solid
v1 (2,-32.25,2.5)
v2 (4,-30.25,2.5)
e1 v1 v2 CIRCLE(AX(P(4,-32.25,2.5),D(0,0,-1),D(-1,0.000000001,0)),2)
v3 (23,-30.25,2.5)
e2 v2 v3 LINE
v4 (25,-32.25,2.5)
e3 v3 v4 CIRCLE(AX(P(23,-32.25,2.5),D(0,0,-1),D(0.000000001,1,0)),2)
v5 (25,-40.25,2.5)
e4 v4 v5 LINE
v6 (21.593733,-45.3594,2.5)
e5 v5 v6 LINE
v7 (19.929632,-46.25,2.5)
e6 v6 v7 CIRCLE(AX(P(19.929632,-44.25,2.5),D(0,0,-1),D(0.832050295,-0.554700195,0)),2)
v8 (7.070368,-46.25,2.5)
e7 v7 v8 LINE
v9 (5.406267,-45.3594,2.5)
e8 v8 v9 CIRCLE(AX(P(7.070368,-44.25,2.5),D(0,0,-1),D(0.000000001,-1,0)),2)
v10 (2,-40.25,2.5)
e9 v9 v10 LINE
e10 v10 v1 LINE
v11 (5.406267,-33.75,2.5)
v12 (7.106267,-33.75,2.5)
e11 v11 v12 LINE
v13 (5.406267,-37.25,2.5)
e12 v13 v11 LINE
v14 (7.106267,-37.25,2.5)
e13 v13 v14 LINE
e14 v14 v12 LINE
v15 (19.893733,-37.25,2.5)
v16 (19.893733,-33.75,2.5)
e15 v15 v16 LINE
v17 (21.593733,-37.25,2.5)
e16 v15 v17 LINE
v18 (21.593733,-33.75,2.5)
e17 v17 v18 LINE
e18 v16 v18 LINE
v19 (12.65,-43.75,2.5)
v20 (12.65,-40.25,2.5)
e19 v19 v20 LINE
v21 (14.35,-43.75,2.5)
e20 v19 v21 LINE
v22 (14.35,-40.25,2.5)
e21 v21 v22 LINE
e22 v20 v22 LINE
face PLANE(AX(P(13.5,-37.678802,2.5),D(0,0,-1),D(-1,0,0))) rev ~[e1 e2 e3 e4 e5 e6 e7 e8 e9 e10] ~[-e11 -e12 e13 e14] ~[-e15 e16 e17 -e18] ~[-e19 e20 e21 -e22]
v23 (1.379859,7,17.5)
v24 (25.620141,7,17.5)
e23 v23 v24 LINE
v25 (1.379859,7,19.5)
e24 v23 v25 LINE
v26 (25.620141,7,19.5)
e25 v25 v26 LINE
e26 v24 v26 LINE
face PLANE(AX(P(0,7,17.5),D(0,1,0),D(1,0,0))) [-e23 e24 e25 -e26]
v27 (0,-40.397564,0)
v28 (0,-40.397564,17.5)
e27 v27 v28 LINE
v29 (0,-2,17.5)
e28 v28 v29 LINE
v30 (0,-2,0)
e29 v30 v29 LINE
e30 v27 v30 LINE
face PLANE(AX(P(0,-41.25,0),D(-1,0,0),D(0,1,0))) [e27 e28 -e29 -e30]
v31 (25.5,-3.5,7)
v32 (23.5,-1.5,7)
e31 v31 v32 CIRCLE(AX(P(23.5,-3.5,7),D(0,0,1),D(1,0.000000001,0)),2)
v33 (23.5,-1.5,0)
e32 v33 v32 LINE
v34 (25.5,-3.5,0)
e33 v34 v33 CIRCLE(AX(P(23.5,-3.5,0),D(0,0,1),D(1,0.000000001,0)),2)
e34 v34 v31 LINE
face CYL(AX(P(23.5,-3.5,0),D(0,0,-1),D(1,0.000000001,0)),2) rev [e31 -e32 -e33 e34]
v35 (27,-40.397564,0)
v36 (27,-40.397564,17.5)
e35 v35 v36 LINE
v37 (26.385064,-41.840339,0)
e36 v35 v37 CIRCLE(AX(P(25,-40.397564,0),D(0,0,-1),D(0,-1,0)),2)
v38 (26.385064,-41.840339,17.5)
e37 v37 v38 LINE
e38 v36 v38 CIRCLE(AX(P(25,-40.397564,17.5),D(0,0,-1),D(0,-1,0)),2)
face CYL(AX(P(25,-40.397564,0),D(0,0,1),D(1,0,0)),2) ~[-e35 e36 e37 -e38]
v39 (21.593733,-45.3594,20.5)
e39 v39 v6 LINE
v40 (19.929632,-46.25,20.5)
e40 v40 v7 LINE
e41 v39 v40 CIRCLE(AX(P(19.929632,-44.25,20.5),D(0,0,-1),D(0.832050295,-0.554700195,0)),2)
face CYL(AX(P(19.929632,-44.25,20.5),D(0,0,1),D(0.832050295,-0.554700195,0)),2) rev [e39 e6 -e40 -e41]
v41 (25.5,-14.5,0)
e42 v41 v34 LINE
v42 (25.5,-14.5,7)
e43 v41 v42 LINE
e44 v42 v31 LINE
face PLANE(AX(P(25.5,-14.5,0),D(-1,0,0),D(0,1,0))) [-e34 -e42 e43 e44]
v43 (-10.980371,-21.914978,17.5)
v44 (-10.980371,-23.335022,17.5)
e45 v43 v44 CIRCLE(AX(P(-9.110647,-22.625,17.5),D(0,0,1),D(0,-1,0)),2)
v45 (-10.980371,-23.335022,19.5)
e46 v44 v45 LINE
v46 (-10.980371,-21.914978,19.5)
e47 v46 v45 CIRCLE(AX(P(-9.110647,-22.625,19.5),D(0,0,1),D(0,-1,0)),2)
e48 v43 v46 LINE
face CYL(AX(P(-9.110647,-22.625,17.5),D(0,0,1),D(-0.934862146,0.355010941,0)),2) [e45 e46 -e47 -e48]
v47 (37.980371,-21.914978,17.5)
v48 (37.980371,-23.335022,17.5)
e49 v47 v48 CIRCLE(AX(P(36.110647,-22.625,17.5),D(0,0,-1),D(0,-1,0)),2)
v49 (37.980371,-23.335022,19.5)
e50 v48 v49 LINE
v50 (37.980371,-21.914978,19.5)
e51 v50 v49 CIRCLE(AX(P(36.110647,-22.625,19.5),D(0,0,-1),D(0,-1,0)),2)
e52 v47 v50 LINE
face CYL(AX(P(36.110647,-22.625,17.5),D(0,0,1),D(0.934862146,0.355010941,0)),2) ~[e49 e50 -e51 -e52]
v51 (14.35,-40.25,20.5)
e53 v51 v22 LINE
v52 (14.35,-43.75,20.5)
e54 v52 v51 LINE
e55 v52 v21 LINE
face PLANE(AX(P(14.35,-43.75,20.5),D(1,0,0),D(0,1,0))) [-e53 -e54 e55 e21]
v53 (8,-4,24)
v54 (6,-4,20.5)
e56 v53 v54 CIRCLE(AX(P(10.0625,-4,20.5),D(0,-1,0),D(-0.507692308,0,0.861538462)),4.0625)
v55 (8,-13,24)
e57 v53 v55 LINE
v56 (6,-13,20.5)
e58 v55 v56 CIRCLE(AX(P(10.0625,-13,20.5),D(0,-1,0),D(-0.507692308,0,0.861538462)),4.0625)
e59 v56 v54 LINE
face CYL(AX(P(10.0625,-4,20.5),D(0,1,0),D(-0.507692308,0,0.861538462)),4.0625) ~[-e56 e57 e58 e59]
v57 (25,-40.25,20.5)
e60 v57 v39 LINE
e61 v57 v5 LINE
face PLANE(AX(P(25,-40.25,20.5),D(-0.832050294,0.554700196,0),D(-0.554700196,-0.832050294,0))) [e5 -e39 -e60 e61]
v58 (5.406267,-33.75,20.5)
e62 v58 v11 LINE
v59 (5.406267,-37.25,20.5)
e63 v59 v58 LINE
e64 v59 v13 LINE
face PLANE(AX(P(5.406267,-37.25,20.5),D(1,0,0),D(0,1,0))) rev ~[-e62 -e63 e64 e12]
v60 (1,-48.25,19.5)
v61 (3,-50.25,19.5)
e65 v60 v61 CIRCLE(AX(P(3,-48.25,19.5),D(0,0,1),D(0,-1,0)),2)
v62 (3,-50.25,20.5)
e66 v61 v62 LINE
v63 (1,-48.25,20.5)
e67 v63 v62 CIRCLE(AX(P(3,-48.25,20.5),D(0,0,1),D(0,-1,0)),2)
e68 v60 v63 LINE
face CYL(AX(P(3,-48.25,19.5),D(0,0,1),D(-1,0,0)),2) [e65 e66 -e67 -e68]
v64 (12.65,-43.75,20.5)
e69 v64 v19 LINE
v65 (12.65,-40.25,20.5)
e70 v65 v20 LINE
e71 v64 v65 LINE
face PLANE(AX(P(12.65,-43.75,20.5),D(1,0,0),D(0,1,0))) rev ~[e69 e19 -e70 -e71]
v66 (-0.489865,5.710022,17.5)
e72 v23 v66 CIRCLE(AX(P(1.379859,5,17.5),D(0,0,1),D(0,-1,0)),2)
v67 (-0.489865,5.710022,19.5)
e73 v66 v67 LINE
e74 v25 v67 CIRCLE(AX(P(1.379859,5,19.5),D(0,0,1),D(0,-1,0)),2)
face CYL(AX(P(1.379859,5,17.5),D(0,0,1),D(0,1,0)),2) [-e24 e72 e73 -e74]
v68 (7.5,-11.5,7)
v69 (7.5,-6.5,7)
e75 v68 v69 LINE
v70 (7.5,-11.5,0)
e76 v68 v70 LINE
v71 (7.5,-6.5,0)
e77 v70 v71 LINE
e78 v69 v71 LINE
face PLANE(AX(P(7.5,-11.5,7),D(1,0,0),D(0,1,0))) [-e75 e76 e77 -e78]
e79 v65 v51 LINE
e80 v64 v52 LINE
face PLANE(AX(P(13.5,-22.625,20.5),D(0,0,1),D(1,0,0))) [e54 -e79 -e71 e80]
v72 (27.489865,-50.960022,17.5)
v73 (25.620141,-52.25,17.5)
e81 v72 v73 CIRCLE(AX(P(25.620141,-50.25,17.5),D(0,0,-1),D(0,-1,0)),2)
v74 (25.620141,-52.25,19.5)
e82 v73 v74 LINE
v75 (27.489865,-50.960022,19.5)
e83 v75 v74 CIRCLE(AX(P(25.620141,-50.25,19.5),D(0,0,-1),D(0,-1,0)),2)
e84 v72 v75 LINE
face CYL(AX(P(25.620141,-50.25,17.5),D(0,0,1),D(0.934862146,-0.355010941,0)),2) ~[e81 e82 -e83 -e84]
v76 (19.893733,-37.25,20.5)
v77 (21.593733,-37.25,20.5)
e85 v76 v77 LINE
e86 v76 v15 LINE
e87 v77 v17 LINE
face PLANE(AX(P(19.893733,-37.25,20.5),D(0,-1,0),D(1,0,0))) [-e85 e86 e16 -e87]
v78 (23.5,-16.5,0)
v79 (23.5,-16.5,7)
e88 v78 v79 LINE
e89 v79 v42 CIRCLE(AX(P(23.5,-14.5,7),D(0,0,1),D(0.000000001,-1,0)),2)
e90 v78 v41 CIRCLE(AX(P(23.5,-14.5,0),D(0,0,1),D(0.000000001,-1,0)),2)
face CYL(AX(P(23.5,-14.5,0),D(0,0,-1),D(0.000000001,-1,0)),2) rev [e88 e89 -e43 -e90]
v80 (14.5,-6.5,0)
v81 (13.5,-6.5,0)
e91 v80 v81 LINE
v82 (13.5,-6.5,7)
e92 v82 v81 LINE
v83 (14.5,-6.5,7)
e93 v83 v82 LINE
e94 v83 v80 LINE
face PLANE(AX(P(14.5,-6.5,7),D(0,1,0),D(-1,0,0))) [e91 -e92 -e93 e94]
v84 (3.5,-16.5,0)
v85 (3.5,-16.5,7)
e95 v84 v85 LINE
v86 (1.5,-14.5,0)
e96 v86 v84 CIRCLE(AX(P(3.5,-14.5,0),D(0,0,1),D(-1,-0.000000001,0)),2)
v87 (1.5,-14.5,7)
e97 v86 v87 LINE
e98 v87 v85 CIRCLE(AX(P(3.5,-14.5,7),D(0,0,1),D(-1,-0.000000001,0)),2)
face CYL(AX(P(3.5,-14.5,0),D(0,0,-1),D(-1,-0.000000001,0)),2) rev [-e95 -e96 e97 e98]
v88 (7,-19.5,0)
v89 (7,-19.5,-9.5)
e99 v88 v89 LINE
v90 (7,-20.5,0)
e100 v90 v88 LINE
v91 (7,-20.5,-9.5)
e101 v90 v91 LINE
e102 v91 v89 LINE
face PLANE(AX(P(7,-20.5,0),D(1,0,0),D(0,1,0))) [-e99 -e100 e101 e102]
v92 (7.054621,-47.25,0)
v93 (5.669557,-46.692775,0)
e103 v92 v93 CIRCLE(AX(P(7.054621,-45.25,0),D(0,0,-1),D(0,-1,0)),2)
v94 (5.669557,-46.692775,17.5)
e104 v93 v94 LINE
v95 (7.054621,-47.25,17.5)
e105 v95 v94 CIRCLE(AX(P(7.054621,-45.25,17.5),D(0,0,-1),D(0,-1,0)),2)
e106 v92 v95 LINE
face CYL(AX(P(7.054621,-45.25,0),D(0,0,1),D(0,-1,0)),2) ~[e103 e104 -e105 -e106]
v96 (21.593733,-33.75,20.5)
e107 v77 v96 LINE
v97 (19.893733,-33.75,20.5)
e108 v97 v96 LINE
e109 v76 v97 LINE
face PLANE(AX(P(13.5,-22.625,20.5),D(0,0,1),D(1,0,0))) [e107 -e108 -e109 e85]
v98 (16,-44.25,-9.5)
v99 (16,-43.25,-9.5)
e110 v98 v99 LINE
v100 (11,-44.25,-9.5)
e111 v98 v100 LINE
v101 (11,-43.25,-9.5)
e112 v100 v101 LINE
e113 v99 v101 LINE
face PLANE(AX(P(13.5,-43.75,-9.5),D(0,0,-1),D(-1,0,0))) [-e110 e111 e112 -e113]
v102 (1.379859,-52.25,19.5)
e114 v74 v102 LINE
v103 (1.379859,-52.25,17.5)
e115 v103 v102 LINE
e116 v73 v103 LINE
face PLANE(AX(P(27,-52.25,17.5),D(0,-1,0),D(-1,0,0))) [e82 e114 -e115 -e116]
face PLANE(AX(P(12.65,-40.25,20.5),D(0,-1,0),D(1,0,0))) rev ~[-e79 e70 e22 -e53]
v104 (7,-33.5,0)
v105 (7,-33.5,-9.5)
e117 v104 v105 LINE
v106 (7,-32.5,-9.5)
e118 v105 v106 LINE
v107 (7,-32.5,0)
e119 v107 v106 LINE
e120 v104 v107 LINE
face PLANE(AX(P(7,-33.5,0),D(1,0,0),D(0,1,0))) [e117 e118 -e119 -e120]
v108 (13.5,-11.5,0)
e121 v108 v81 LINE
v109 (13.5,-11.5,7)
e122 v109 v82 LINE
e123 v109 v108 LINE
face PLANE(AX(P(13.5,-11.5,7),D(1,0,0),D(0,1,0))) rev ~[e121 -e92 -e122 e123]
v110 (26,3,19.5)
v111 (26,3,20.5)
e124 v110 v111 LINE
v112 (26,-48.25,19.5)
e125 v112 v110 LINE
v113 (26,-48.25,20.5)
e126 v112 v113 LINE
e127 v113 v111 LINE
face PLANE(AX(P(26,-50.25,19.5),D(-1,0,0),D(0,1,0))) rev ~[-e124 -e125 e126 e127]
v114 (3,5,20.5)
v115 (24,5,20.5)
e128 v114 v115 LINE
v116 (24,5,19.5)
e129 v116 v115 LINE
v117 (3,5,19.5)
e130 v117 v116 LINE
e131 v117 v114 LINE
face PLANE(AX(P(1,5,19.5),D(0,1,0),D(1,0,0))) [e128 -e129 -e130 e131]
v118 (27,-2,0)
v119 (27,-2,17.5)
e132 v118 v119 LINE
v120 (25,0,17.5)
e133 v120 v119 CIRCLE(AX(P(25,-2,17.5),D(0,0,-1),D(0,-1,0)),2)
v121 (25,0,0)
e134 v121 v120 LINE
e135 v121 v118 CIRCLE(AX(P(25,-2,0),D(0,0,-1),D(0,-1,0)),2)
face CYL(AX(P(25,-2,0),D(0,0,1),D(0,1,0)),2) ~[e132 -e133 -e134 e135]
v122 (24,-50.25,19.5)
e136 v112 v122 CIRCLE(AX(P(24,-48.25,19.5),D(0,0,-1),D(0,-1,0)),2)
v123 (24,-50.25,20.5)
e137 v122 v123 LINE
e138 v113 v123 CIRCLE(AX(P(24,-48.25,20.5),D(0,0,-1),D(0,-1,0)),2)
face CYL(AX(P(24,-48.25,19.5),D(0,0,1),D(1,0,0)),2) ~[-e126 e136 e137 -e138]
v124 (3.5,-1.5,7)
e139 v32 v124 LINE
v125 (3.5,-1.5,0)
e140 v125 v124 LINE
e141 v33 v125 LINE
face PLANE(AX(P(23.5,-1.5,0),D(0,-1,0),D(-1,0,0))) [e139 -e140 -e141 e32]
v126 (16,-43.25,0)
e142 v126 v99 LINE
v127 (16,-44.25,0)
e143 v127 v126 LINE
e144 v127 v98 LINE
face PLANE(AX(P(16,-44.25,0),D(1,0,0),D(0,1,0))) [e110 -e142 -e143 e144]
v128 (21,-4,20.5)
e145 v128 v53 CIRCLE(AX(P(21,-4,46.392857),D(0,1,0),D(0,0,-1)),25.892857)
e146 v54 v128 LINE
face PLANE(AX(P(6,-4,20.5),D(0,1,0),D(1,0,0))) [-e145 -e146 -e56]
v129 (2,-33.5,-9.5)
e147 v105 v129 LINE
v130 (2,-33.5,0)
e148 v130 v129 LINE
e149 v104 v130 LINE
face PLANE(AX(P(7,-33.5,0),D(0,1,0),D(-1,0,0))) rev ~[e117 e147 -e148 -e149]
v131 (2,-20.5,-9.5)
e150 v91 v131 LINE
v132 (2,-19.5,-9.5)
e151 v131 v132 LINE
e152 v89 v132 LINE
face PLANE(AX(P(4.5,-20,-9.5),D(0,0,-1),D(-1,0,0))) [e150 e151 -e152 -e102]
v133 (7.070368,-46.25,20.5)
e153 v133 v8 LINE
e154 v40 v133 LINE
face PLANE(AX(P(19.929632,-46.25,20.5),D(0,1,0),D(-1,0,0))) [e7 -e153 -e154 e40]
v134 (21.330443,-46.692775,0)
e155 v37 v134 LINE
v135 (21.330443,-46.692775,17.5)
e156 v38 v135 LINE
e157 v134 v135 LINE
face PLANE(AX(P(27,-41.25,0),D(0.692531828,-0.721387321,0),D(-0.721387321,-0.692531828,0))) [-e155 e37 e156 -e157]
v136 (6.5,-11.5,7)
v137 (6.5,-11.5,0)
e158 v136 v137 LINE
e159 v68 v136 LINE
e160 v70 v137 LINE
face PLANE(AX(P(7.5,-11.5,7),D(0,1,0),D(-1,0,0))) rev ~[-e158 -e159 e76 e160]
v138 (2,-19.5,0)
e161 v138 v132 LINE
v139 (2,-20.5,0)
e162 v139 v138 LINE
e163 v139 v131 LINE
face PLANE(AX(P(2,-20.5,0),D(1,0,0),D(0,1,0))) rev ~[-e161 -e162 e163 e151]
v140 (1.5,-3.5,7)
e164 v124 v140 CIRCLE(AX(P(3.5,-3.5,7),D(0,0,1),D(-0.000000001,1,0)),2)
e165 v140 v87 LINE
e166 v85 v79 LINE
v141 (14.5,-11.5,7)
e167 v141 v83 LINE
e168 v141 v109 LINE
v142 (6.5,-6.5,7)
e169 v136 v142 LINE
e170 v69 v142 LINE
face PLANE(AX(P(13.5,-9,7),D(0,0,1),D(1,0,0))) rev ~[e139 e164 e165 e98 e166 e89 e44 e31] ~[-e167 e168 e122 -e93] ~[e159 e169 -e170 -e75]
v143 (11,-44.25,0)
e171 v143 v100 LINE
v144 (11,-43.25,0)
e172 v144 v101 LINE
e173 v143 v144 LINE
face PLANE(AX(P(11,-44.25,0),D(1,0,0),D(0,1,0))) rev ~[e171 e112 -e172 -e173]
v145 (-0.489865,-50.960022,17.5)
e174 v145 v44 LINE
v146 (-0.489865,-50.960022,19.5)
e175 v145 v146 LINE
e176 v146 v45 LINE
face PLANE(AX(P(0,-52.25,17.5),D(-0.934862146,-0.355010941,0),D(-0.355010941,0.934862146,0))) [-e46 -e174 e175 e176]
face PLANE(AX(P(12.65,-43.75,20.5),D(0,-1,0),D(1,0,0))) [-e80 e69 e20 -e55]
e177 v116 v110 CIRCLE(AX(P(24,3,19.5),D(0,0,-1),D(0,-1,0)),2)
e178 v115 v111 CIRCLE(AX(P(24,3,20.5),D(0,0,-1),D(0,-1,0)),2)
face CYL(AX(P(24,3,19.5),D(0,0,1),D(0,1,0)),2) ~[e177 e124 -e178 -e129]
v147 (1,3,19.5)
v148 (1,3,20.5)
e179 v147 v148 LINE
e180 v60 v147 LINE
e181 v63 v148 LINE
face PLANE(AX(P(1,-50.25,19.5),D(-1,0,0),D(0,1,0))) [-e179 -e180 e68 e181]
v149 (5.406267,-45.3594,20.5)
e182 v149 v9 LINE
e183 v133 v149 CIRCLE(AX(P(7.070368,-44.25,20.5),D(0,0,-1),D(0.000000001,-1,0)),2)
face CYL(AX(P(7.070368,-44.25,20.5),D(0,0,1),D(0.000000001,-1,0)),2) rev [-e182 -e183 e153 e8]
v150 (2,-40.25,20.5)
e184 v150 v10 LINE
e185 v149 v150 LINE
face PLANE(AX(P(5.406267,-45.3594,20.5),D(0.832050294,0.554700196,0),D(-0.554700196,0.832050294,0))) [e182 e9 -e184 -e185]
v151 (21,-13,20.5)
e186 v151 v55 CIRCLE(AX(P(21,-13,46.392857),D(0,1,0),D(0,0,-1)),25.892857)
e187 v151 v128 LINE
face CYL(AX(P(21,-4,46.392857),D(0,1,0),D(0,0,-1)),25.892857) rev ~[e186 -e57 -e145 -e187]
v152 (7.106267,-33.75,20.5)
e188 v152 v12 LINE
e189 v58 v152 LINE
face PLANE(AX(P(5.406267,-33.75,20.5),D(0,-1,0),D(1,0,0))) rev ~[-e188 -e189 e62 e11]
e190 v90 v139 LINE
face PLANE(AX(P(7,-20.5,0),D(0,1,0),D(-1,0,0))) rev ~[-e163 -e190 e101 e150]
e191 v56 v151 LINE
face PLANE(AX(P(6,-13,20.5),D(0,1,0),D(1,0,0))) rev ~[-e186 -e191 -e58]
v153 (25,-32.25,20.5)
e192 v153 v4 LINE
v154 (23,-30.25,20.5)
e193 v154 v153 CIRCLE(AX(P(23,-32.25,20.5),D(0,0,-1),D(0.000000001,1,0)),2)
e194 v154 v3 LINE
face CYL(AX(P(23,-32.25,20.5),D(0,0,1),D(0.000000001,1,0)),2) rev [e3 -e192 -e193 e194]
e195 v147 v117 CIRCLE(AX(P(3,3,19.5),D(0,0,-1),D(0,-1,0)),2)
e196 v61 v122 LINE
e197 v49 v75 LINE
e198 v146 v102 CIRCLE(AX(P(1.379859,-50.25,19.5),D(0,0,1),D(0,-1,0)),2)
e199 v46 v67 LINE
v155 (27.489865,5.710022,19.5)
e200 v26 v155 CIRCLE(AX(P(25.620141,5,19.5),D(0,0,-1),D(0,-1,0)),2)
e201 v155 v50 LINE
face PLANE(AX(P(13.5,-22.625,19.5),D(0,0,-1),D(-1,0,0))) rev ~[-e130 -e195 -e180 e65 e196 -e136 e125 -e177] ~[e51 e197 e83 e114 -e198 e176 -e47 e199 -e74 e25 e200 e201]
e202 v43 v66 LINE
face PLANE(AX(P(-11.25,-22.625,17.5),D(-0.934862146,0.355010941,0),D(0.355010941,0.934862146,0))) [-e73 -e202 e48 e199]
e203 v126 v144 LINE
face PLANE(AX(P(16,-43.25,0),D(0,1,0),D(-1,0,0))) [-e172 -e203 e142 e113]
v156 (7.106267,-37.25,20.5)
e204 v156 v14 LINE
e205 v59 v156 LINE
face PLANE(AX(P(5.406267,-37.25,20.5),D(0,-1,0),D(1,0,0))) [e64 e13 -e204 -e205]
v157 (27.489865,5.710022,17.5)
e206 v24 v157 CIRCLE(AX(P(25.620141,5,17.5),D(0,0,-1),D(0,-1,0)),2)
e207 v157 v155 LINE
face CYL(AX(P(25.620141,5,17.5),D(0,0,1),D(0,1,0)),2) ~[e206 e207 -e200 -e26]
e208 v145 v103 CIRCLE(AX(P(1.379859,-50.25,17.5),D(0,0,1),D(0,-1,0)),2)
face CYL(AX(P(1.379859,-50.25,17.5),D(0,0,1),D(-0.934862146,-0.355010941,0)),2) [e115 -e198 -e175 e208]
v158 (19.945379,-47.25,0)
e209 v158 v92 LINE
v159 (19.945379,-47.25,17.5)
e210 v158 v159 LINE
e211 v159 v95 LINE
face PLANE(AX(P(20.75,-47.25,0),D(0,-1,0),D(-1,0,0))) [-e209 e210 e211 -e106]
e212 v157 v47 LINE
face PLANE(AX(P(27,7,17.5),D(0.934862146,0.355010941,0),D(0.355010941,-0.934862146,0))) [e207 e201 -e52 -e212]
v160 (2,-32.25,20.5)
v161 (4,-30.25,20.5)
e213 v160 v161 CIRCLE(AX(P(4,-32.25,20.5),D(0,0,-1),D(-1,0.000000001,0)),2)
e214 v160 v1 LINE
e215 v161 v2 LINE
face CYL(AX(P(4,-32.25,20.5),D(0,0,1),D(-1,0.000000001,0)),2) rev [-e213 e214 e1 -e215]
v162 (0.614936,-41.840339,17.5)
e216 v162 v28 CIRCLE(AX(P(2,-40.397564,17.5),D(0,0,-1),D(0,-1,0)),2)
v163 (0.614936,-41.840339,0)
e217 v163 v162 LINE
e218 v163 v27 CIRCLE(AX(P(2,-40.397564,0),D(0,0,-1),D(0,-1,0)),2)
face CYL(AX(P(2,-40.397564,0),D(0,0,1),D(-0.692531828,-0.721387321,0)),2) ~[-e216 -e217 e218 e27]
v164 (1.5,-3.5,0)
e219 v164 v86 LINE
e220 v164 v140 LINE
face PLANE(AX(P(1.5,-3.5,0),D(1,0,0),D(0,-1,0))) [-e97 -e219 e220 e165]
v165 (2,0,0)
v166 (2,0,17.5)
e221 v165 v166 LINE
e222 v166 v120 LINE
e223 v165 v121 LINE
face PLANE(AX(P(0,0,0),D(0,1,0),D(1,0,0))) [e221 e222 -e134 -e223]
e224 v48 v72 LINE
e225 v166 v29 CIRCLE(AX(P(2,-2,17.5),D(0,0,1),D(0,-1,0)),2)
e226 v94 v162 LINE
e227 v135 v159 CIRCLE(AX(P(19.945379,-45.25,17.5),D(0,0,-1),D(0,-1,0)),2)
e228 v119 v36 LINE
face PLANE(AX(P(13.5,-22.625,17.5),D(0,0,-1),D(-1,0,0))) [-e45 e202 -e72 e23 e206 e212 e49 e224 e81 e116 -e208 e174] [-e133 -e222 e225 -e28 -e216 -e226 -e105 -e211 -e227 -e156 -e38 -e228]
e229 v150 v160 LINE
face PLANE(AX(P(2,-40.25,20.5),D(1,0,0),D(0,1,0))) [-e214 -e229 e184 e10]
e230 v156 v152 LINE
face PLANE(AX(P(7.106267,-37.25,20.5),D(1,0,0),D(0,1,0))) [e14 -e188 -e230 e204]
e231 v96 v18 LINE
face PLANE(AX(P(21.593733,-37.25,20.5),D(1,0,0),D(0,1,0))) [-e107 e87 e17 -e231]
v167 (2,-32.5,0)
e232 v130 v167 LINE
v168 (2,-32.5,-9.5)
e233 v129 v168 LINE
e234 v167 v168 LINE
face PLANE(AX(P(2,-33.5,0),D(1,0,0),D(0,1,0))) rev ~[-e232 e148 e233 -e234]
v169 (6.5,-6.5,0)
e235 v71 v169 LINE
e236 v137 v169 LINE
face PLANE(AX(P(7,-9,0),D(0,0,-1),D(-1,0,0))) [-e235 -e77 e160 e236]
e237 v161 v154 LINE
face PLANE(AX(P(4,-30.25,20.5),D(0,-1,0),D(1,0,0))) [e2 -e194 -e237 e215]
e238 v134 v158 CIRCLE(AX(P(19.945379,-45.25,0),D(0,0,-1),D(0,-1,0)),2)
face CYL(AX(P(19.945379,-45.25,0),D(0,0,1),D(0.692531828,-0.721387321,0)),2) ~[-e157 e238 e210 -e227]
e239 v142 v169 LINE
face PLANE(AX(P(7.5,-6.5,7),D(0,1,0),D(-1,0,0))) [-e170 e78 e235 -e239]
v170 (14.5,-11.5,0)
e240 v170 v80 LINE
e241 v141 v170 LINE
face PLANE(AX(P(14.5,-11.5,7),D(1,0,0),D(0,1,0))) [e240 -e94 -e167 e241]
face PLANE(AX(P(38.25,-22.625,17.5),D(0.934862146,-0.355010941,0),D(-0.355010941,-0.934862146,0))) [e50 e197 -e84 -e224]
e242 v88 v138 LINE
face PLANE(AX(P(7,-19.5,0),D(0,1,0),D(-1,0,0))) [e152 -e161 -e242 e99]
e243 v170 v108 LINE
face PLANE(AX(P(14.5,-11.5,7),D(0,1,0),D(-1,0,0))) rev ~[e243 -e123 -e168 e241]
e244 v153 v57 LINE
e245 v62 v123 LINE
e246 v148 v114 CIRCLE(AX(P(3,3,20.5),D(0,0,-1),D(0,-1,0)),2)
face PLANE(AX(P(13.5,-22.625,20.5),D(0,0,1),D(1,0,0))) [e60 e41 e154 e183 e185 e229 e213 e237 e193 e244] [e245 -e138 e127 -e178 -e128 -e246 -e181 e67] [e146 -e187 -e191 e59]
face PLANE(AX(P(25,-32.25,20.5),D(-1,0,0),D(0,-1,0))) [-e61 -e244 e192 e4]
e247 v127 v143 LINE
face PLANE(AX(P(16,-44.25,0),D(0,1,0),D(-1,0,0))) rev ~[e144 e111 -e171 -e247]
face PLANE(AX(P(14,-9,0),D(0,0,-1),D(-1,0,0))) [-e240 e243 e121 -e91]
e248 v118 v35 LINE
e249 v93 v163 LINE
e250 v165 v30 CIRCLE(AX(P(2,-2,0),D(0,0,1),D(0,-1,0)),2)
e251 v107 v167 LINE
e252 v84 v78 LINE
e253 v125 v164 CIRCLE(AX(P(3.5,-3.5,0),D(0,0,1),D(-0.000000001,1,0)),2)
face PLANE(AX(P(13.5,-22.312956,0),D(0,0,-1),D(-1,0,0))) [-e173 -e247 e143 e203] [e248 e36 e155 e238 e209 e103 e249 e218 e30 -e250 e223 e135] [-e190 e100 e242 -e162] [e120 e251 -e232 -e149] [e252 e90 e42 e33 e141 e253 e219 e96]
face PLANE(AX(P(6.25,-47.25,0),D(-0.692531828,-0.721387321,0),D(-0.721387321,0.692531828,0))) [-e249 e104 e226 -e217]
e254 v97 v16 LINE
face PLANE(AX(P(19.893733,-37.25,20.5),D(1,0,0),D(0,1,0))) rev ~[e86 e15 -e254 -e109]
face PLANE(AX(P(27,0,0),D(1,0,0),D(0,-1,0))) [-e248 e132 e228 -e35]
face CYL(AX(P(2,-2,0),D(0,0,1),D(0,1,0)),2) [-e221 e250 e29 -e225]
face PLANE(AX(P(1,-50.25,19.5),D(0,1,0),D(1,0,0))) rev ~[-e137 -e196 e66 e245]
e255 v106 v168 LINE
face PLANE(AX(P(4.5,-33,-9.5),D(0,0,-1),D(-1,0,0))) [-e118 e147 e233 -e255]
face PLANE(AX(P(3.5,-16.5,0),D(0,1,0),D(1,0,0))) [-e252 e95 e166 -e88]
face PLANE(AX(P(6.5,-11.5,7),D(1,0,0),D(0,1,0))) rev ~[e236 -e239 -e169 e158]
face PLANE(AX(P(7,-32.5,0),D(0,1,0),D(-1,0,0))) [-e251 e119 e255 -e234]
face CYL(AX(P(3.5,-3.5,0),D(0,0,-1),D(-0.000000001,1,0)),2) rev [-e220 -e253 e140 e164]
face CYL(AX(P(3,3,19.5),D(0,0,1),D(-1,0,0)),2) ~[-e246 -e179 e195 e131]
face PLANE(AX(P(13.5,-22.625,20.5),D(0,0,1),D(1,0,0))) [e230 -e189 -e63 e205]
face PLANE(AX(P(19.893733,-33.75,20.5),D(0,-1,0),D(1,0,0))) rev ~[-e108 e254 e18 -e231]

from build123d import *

# Parameters (mm, degrees)
EXTRUDE_1_DEPTH     = 17.5
EXTRUDE_2_DEPTH     = 2
SKETCH_3_W          = 25
SKETCH_3_H          = 55.25
EXTRUDE_3_DEPTH     = 1
FILLET_1_R          = 2
FILLET_2_R          = 2
FILLET_3_R          = 2
SKETCH_4_W          = 15
SKETCH_4_H          = 9
EXTRUDE_4_DEPTH     = 3.5
CUT_EXTRUDE_1_DEPTH = 9
SKETCH_6_W          = 1.7
SKETCH_6_H          = 3.5
CUT_EXTRUDE_2_DEPTH = 18
FILLET_4_R          = 2
CUT_EXTRUDE_3_DEPTH = 7
SKETCH_8_W          = 5
SKETCH_8_H          = 1
EXTRUDE_5_DEPTH     = 9.5
SKETCH_9_W          = 1
SKETCH_9_H          = 5
EXTRUDE_6_DEPTH     = 7


with BuildPart() as part:
    # Эскиз1 → Бобышка-Вытянуть1 (new body)
    with BuildSketch(Plane.XY):
        Polygon((0, 0), (27, 0), (27, -41.25), (20.75, -47.25), (6.25, -47.25), (0, -41.25), align=None)
    extrude(amount=EXTRUDE_1_DEPTH)

    # Эскиз2 → Бобышка-Вытянуть2 (add)
    with BuildSketch(Plane.XY.offset(17.5)):
        Polygon((0, 7), (27, 7), (38.25, -22.625), (27, -52.25), (0, -52.25), (-11.25, -22.625), align=None)
    extrude(amount=EXTRUDE_2_DEPTH)

    # Эскиз3 → Бобышка-Вытянуть3 (add)
    with BuildSketch(Plane.XY.offset(19.5)):
        with Locations((13.5, -22.625)):
            Rectangle(SKETCH_3_W, SKETCH_3_H)
    extrude(amount=EXTRUDE_3_DEPTH)

    # Скругление1
    fillet_1_edges = [part.edges().sort_by_distance(p)[0] for p in [
        (0, 7, 18.5),
        (27, -52.25, 18.5),
        (38.25, -22.625, 18.5),
        (27, 7, 18.5),
    ]]
    fillet(fillet_1_edges, radius=FILLET_1_R)

    # Скругление2
    fillet_2_edges = [part.edges().sort_by_distance(p)[0] for p in [
        (-11.25, -22.625, 18.5),
        (0, -52.25, 18.5),
    ]]
    fillet(fillet_2_edges, radius=FILLET_2_R)

    # Скругление3
    fillet_3_edges = [part.edges().sort_by_distance(p)[0] for p in [
        (1, 5, 20),
        (1, -50.25, 20),
        (26, -50.25, 20),
        (26, 5, 20),
    ]]
    fillet(fillet_3_edges, radius=FILLET_3_R)

    # Эскиз4 → Бобышка-Вытянуть4 (add)
    with BuildSketch(Plane.XY.offset(20.5)):
        with Locations((13.5, -8.5)):
            Rectangle(SKETCH_4_W, SKETCH_4_H)
    extrude(amount=EXTRUDE_4_DEPTH)

    # Эскиз5 → Вырез-Вытянуть1 (cut)
    with BuildSketch(Plane(origin=(0, -4, 0), x_dir=(1, 0, 0), z_dir=(0, 1, 0))):
        with BuildLine():
            ThreePointArc((21, -20.5), (14.268543991, -21.390306253), (8, -24))
            Line((8, -24), (21, -24))
            Line((21, -24), (21, -20.5))
        make_face()
        with BuildLine():
            Line((6, -20.5), (6, -24))
            Line((6, -24), (8, -24))
            ThreePointArc((8, -24), (6.535262235, -22.515564437), (6, -20.5))
        make_face()
    extrude(amount=-CUT_EXTRUDE_1_DEPTH, mode=Mode.SUBTRACT)

    # Эскиз6 → Вырез-Вытянуть2 (cut)
    with BuildSketch(Plane.XY.offset(20.5)):
        with BuildLine():
            Line((4, -30.25), (23, -30.25))
            ThreePointArc((23, -30.25), (24.414213562, -30.835786438), (25, -32.25))
            Line((25, -32.25), (25, -40.25))
            Line((25, -40.25), (21.593733072, -45.359400392))
            ThreePointArc((21.593733072, -45.359400392), (20.873348334, -46.013349198), (19.929632483, -46.25))
            Line((19.929632483, -46.25), (7.070367517, -46.25))
            ThreePointArc((7.070367517, -46.25), (6.126651666, -46.013349198), (5.406266928, -45.359400392))
            Line((5.406266928, -45.359400392), (2, -40.25))
            Line((2, -40.25), (2, -32.25))
            ThreePointArc((2, -32.25), (2.585786438, -30.835786438), (4, -30.25))
        make_face()
        with Locations((6.256266928, -35.5)):
            Rectangle(SKETCH_6_W, SKETCH_6_H, mode=Mode.SUBTRACT)
        with Locations((20.743733072, -35.5)):
            Rectangle(SKETCH_6_W, SKETCH_6_H, mode=Mode.SUBTRACT)
        with Locations((13.5, -42)):
            Rectangle(SKETCH_6_W, SKETCH_6_H, mode=Mode.SUBTRACT)
    extrude(amount=-CUT_EXTRUDE_2_DEPTH, mode=Mode.SUBTRACT)

    # Скругление4
    fillet_4_edges = [part.edges().sort_by_distance(p)[0] for p in [
        (0, 0, 8.75),
        (27, 0, 8.75),
        (27, -41.25, 8.75),
        (20.75, -47.25, 8.75),
        (6.25, -47.25, 8.75),
        (0, -41.25, 8.75),
    ]]
    fillet(fillet_4_edges, radius=FILLET_4_R)

    # Эскиз7 → Вырез-Вытянуть3 (cut)
    with BuildSketch(Plane(origin=(0, 0, 0), x_dir=(-1, 0, 0), z_dir=(0, 0, -1))):
        with BuildLine():
            Line((-23.5, -1.5), (-3.5, -1.5))
            ThreePointArc((-3.5, -1.5), (-2.085786438, -2.085786438), (-1.5, -3.5))
            Line((-1.5, -3.5), (-1.5, -14.5))
            ThreePointArc((-1.5, -14.5), (-2.085786438, -15.914213562), (-3.5, -16.5))
            Line((-3.5, -16.5), (-23.5, -16.5))
            ThreePointArc((-23.5, -16.5), (-24.914213562, -15.914213562), (-25.5, -14.5))
            Line((-25.5, -14.5), (-25.5, -3.5))
            ThreePointArc((-25.5, -3.5), (-24.914213562, -2.085786438), (-23.5, -1.5))
        make_face()
    extrude(amount=-CUT_EXTRUDE_3_DEPTH, mode=Mode.SUBTRACT)

    # Эскиз8 → Бобышка-Вытянуть5 (add)
    with BuildSketch(Plane(origin=(0, 0, 0), x_dir=(-1, 0, 0), z_dir=(0, 0, -1))):
        with Locations((-4.5, -20)):
            Rectangle(SKETCH_8_W, SKETCH_8_H)
        with Locations((-4.5, -33)):
            Rectangle(SKETCH_8_W, SKETCH_8_H)
        with Locations((-13.5, -43.75)):
            Rectangle(SKETCH_8_W, SKETCH_8_H)
    extrude(amount=EXTRUDE_5_DEPTH)

    # Эскиз9 → Бобышка-Вытянуть6 (add)
    with BuildSketch(Plane(origin=(0, 0, 7), x_dir=(-1, 0, 0), z_dir=(0, 0, -1))):
        with Locations((-7, -9)):
            Rectangle(SKETCH_9_W, SKETCH_9_H)
        with Locations((-14, -9)):
            Rectangle(SKETCH_9_W, SKETCH_9_H)
    extrude(amount=EXTRUDE_6_DEPTH)


solid = part.part
